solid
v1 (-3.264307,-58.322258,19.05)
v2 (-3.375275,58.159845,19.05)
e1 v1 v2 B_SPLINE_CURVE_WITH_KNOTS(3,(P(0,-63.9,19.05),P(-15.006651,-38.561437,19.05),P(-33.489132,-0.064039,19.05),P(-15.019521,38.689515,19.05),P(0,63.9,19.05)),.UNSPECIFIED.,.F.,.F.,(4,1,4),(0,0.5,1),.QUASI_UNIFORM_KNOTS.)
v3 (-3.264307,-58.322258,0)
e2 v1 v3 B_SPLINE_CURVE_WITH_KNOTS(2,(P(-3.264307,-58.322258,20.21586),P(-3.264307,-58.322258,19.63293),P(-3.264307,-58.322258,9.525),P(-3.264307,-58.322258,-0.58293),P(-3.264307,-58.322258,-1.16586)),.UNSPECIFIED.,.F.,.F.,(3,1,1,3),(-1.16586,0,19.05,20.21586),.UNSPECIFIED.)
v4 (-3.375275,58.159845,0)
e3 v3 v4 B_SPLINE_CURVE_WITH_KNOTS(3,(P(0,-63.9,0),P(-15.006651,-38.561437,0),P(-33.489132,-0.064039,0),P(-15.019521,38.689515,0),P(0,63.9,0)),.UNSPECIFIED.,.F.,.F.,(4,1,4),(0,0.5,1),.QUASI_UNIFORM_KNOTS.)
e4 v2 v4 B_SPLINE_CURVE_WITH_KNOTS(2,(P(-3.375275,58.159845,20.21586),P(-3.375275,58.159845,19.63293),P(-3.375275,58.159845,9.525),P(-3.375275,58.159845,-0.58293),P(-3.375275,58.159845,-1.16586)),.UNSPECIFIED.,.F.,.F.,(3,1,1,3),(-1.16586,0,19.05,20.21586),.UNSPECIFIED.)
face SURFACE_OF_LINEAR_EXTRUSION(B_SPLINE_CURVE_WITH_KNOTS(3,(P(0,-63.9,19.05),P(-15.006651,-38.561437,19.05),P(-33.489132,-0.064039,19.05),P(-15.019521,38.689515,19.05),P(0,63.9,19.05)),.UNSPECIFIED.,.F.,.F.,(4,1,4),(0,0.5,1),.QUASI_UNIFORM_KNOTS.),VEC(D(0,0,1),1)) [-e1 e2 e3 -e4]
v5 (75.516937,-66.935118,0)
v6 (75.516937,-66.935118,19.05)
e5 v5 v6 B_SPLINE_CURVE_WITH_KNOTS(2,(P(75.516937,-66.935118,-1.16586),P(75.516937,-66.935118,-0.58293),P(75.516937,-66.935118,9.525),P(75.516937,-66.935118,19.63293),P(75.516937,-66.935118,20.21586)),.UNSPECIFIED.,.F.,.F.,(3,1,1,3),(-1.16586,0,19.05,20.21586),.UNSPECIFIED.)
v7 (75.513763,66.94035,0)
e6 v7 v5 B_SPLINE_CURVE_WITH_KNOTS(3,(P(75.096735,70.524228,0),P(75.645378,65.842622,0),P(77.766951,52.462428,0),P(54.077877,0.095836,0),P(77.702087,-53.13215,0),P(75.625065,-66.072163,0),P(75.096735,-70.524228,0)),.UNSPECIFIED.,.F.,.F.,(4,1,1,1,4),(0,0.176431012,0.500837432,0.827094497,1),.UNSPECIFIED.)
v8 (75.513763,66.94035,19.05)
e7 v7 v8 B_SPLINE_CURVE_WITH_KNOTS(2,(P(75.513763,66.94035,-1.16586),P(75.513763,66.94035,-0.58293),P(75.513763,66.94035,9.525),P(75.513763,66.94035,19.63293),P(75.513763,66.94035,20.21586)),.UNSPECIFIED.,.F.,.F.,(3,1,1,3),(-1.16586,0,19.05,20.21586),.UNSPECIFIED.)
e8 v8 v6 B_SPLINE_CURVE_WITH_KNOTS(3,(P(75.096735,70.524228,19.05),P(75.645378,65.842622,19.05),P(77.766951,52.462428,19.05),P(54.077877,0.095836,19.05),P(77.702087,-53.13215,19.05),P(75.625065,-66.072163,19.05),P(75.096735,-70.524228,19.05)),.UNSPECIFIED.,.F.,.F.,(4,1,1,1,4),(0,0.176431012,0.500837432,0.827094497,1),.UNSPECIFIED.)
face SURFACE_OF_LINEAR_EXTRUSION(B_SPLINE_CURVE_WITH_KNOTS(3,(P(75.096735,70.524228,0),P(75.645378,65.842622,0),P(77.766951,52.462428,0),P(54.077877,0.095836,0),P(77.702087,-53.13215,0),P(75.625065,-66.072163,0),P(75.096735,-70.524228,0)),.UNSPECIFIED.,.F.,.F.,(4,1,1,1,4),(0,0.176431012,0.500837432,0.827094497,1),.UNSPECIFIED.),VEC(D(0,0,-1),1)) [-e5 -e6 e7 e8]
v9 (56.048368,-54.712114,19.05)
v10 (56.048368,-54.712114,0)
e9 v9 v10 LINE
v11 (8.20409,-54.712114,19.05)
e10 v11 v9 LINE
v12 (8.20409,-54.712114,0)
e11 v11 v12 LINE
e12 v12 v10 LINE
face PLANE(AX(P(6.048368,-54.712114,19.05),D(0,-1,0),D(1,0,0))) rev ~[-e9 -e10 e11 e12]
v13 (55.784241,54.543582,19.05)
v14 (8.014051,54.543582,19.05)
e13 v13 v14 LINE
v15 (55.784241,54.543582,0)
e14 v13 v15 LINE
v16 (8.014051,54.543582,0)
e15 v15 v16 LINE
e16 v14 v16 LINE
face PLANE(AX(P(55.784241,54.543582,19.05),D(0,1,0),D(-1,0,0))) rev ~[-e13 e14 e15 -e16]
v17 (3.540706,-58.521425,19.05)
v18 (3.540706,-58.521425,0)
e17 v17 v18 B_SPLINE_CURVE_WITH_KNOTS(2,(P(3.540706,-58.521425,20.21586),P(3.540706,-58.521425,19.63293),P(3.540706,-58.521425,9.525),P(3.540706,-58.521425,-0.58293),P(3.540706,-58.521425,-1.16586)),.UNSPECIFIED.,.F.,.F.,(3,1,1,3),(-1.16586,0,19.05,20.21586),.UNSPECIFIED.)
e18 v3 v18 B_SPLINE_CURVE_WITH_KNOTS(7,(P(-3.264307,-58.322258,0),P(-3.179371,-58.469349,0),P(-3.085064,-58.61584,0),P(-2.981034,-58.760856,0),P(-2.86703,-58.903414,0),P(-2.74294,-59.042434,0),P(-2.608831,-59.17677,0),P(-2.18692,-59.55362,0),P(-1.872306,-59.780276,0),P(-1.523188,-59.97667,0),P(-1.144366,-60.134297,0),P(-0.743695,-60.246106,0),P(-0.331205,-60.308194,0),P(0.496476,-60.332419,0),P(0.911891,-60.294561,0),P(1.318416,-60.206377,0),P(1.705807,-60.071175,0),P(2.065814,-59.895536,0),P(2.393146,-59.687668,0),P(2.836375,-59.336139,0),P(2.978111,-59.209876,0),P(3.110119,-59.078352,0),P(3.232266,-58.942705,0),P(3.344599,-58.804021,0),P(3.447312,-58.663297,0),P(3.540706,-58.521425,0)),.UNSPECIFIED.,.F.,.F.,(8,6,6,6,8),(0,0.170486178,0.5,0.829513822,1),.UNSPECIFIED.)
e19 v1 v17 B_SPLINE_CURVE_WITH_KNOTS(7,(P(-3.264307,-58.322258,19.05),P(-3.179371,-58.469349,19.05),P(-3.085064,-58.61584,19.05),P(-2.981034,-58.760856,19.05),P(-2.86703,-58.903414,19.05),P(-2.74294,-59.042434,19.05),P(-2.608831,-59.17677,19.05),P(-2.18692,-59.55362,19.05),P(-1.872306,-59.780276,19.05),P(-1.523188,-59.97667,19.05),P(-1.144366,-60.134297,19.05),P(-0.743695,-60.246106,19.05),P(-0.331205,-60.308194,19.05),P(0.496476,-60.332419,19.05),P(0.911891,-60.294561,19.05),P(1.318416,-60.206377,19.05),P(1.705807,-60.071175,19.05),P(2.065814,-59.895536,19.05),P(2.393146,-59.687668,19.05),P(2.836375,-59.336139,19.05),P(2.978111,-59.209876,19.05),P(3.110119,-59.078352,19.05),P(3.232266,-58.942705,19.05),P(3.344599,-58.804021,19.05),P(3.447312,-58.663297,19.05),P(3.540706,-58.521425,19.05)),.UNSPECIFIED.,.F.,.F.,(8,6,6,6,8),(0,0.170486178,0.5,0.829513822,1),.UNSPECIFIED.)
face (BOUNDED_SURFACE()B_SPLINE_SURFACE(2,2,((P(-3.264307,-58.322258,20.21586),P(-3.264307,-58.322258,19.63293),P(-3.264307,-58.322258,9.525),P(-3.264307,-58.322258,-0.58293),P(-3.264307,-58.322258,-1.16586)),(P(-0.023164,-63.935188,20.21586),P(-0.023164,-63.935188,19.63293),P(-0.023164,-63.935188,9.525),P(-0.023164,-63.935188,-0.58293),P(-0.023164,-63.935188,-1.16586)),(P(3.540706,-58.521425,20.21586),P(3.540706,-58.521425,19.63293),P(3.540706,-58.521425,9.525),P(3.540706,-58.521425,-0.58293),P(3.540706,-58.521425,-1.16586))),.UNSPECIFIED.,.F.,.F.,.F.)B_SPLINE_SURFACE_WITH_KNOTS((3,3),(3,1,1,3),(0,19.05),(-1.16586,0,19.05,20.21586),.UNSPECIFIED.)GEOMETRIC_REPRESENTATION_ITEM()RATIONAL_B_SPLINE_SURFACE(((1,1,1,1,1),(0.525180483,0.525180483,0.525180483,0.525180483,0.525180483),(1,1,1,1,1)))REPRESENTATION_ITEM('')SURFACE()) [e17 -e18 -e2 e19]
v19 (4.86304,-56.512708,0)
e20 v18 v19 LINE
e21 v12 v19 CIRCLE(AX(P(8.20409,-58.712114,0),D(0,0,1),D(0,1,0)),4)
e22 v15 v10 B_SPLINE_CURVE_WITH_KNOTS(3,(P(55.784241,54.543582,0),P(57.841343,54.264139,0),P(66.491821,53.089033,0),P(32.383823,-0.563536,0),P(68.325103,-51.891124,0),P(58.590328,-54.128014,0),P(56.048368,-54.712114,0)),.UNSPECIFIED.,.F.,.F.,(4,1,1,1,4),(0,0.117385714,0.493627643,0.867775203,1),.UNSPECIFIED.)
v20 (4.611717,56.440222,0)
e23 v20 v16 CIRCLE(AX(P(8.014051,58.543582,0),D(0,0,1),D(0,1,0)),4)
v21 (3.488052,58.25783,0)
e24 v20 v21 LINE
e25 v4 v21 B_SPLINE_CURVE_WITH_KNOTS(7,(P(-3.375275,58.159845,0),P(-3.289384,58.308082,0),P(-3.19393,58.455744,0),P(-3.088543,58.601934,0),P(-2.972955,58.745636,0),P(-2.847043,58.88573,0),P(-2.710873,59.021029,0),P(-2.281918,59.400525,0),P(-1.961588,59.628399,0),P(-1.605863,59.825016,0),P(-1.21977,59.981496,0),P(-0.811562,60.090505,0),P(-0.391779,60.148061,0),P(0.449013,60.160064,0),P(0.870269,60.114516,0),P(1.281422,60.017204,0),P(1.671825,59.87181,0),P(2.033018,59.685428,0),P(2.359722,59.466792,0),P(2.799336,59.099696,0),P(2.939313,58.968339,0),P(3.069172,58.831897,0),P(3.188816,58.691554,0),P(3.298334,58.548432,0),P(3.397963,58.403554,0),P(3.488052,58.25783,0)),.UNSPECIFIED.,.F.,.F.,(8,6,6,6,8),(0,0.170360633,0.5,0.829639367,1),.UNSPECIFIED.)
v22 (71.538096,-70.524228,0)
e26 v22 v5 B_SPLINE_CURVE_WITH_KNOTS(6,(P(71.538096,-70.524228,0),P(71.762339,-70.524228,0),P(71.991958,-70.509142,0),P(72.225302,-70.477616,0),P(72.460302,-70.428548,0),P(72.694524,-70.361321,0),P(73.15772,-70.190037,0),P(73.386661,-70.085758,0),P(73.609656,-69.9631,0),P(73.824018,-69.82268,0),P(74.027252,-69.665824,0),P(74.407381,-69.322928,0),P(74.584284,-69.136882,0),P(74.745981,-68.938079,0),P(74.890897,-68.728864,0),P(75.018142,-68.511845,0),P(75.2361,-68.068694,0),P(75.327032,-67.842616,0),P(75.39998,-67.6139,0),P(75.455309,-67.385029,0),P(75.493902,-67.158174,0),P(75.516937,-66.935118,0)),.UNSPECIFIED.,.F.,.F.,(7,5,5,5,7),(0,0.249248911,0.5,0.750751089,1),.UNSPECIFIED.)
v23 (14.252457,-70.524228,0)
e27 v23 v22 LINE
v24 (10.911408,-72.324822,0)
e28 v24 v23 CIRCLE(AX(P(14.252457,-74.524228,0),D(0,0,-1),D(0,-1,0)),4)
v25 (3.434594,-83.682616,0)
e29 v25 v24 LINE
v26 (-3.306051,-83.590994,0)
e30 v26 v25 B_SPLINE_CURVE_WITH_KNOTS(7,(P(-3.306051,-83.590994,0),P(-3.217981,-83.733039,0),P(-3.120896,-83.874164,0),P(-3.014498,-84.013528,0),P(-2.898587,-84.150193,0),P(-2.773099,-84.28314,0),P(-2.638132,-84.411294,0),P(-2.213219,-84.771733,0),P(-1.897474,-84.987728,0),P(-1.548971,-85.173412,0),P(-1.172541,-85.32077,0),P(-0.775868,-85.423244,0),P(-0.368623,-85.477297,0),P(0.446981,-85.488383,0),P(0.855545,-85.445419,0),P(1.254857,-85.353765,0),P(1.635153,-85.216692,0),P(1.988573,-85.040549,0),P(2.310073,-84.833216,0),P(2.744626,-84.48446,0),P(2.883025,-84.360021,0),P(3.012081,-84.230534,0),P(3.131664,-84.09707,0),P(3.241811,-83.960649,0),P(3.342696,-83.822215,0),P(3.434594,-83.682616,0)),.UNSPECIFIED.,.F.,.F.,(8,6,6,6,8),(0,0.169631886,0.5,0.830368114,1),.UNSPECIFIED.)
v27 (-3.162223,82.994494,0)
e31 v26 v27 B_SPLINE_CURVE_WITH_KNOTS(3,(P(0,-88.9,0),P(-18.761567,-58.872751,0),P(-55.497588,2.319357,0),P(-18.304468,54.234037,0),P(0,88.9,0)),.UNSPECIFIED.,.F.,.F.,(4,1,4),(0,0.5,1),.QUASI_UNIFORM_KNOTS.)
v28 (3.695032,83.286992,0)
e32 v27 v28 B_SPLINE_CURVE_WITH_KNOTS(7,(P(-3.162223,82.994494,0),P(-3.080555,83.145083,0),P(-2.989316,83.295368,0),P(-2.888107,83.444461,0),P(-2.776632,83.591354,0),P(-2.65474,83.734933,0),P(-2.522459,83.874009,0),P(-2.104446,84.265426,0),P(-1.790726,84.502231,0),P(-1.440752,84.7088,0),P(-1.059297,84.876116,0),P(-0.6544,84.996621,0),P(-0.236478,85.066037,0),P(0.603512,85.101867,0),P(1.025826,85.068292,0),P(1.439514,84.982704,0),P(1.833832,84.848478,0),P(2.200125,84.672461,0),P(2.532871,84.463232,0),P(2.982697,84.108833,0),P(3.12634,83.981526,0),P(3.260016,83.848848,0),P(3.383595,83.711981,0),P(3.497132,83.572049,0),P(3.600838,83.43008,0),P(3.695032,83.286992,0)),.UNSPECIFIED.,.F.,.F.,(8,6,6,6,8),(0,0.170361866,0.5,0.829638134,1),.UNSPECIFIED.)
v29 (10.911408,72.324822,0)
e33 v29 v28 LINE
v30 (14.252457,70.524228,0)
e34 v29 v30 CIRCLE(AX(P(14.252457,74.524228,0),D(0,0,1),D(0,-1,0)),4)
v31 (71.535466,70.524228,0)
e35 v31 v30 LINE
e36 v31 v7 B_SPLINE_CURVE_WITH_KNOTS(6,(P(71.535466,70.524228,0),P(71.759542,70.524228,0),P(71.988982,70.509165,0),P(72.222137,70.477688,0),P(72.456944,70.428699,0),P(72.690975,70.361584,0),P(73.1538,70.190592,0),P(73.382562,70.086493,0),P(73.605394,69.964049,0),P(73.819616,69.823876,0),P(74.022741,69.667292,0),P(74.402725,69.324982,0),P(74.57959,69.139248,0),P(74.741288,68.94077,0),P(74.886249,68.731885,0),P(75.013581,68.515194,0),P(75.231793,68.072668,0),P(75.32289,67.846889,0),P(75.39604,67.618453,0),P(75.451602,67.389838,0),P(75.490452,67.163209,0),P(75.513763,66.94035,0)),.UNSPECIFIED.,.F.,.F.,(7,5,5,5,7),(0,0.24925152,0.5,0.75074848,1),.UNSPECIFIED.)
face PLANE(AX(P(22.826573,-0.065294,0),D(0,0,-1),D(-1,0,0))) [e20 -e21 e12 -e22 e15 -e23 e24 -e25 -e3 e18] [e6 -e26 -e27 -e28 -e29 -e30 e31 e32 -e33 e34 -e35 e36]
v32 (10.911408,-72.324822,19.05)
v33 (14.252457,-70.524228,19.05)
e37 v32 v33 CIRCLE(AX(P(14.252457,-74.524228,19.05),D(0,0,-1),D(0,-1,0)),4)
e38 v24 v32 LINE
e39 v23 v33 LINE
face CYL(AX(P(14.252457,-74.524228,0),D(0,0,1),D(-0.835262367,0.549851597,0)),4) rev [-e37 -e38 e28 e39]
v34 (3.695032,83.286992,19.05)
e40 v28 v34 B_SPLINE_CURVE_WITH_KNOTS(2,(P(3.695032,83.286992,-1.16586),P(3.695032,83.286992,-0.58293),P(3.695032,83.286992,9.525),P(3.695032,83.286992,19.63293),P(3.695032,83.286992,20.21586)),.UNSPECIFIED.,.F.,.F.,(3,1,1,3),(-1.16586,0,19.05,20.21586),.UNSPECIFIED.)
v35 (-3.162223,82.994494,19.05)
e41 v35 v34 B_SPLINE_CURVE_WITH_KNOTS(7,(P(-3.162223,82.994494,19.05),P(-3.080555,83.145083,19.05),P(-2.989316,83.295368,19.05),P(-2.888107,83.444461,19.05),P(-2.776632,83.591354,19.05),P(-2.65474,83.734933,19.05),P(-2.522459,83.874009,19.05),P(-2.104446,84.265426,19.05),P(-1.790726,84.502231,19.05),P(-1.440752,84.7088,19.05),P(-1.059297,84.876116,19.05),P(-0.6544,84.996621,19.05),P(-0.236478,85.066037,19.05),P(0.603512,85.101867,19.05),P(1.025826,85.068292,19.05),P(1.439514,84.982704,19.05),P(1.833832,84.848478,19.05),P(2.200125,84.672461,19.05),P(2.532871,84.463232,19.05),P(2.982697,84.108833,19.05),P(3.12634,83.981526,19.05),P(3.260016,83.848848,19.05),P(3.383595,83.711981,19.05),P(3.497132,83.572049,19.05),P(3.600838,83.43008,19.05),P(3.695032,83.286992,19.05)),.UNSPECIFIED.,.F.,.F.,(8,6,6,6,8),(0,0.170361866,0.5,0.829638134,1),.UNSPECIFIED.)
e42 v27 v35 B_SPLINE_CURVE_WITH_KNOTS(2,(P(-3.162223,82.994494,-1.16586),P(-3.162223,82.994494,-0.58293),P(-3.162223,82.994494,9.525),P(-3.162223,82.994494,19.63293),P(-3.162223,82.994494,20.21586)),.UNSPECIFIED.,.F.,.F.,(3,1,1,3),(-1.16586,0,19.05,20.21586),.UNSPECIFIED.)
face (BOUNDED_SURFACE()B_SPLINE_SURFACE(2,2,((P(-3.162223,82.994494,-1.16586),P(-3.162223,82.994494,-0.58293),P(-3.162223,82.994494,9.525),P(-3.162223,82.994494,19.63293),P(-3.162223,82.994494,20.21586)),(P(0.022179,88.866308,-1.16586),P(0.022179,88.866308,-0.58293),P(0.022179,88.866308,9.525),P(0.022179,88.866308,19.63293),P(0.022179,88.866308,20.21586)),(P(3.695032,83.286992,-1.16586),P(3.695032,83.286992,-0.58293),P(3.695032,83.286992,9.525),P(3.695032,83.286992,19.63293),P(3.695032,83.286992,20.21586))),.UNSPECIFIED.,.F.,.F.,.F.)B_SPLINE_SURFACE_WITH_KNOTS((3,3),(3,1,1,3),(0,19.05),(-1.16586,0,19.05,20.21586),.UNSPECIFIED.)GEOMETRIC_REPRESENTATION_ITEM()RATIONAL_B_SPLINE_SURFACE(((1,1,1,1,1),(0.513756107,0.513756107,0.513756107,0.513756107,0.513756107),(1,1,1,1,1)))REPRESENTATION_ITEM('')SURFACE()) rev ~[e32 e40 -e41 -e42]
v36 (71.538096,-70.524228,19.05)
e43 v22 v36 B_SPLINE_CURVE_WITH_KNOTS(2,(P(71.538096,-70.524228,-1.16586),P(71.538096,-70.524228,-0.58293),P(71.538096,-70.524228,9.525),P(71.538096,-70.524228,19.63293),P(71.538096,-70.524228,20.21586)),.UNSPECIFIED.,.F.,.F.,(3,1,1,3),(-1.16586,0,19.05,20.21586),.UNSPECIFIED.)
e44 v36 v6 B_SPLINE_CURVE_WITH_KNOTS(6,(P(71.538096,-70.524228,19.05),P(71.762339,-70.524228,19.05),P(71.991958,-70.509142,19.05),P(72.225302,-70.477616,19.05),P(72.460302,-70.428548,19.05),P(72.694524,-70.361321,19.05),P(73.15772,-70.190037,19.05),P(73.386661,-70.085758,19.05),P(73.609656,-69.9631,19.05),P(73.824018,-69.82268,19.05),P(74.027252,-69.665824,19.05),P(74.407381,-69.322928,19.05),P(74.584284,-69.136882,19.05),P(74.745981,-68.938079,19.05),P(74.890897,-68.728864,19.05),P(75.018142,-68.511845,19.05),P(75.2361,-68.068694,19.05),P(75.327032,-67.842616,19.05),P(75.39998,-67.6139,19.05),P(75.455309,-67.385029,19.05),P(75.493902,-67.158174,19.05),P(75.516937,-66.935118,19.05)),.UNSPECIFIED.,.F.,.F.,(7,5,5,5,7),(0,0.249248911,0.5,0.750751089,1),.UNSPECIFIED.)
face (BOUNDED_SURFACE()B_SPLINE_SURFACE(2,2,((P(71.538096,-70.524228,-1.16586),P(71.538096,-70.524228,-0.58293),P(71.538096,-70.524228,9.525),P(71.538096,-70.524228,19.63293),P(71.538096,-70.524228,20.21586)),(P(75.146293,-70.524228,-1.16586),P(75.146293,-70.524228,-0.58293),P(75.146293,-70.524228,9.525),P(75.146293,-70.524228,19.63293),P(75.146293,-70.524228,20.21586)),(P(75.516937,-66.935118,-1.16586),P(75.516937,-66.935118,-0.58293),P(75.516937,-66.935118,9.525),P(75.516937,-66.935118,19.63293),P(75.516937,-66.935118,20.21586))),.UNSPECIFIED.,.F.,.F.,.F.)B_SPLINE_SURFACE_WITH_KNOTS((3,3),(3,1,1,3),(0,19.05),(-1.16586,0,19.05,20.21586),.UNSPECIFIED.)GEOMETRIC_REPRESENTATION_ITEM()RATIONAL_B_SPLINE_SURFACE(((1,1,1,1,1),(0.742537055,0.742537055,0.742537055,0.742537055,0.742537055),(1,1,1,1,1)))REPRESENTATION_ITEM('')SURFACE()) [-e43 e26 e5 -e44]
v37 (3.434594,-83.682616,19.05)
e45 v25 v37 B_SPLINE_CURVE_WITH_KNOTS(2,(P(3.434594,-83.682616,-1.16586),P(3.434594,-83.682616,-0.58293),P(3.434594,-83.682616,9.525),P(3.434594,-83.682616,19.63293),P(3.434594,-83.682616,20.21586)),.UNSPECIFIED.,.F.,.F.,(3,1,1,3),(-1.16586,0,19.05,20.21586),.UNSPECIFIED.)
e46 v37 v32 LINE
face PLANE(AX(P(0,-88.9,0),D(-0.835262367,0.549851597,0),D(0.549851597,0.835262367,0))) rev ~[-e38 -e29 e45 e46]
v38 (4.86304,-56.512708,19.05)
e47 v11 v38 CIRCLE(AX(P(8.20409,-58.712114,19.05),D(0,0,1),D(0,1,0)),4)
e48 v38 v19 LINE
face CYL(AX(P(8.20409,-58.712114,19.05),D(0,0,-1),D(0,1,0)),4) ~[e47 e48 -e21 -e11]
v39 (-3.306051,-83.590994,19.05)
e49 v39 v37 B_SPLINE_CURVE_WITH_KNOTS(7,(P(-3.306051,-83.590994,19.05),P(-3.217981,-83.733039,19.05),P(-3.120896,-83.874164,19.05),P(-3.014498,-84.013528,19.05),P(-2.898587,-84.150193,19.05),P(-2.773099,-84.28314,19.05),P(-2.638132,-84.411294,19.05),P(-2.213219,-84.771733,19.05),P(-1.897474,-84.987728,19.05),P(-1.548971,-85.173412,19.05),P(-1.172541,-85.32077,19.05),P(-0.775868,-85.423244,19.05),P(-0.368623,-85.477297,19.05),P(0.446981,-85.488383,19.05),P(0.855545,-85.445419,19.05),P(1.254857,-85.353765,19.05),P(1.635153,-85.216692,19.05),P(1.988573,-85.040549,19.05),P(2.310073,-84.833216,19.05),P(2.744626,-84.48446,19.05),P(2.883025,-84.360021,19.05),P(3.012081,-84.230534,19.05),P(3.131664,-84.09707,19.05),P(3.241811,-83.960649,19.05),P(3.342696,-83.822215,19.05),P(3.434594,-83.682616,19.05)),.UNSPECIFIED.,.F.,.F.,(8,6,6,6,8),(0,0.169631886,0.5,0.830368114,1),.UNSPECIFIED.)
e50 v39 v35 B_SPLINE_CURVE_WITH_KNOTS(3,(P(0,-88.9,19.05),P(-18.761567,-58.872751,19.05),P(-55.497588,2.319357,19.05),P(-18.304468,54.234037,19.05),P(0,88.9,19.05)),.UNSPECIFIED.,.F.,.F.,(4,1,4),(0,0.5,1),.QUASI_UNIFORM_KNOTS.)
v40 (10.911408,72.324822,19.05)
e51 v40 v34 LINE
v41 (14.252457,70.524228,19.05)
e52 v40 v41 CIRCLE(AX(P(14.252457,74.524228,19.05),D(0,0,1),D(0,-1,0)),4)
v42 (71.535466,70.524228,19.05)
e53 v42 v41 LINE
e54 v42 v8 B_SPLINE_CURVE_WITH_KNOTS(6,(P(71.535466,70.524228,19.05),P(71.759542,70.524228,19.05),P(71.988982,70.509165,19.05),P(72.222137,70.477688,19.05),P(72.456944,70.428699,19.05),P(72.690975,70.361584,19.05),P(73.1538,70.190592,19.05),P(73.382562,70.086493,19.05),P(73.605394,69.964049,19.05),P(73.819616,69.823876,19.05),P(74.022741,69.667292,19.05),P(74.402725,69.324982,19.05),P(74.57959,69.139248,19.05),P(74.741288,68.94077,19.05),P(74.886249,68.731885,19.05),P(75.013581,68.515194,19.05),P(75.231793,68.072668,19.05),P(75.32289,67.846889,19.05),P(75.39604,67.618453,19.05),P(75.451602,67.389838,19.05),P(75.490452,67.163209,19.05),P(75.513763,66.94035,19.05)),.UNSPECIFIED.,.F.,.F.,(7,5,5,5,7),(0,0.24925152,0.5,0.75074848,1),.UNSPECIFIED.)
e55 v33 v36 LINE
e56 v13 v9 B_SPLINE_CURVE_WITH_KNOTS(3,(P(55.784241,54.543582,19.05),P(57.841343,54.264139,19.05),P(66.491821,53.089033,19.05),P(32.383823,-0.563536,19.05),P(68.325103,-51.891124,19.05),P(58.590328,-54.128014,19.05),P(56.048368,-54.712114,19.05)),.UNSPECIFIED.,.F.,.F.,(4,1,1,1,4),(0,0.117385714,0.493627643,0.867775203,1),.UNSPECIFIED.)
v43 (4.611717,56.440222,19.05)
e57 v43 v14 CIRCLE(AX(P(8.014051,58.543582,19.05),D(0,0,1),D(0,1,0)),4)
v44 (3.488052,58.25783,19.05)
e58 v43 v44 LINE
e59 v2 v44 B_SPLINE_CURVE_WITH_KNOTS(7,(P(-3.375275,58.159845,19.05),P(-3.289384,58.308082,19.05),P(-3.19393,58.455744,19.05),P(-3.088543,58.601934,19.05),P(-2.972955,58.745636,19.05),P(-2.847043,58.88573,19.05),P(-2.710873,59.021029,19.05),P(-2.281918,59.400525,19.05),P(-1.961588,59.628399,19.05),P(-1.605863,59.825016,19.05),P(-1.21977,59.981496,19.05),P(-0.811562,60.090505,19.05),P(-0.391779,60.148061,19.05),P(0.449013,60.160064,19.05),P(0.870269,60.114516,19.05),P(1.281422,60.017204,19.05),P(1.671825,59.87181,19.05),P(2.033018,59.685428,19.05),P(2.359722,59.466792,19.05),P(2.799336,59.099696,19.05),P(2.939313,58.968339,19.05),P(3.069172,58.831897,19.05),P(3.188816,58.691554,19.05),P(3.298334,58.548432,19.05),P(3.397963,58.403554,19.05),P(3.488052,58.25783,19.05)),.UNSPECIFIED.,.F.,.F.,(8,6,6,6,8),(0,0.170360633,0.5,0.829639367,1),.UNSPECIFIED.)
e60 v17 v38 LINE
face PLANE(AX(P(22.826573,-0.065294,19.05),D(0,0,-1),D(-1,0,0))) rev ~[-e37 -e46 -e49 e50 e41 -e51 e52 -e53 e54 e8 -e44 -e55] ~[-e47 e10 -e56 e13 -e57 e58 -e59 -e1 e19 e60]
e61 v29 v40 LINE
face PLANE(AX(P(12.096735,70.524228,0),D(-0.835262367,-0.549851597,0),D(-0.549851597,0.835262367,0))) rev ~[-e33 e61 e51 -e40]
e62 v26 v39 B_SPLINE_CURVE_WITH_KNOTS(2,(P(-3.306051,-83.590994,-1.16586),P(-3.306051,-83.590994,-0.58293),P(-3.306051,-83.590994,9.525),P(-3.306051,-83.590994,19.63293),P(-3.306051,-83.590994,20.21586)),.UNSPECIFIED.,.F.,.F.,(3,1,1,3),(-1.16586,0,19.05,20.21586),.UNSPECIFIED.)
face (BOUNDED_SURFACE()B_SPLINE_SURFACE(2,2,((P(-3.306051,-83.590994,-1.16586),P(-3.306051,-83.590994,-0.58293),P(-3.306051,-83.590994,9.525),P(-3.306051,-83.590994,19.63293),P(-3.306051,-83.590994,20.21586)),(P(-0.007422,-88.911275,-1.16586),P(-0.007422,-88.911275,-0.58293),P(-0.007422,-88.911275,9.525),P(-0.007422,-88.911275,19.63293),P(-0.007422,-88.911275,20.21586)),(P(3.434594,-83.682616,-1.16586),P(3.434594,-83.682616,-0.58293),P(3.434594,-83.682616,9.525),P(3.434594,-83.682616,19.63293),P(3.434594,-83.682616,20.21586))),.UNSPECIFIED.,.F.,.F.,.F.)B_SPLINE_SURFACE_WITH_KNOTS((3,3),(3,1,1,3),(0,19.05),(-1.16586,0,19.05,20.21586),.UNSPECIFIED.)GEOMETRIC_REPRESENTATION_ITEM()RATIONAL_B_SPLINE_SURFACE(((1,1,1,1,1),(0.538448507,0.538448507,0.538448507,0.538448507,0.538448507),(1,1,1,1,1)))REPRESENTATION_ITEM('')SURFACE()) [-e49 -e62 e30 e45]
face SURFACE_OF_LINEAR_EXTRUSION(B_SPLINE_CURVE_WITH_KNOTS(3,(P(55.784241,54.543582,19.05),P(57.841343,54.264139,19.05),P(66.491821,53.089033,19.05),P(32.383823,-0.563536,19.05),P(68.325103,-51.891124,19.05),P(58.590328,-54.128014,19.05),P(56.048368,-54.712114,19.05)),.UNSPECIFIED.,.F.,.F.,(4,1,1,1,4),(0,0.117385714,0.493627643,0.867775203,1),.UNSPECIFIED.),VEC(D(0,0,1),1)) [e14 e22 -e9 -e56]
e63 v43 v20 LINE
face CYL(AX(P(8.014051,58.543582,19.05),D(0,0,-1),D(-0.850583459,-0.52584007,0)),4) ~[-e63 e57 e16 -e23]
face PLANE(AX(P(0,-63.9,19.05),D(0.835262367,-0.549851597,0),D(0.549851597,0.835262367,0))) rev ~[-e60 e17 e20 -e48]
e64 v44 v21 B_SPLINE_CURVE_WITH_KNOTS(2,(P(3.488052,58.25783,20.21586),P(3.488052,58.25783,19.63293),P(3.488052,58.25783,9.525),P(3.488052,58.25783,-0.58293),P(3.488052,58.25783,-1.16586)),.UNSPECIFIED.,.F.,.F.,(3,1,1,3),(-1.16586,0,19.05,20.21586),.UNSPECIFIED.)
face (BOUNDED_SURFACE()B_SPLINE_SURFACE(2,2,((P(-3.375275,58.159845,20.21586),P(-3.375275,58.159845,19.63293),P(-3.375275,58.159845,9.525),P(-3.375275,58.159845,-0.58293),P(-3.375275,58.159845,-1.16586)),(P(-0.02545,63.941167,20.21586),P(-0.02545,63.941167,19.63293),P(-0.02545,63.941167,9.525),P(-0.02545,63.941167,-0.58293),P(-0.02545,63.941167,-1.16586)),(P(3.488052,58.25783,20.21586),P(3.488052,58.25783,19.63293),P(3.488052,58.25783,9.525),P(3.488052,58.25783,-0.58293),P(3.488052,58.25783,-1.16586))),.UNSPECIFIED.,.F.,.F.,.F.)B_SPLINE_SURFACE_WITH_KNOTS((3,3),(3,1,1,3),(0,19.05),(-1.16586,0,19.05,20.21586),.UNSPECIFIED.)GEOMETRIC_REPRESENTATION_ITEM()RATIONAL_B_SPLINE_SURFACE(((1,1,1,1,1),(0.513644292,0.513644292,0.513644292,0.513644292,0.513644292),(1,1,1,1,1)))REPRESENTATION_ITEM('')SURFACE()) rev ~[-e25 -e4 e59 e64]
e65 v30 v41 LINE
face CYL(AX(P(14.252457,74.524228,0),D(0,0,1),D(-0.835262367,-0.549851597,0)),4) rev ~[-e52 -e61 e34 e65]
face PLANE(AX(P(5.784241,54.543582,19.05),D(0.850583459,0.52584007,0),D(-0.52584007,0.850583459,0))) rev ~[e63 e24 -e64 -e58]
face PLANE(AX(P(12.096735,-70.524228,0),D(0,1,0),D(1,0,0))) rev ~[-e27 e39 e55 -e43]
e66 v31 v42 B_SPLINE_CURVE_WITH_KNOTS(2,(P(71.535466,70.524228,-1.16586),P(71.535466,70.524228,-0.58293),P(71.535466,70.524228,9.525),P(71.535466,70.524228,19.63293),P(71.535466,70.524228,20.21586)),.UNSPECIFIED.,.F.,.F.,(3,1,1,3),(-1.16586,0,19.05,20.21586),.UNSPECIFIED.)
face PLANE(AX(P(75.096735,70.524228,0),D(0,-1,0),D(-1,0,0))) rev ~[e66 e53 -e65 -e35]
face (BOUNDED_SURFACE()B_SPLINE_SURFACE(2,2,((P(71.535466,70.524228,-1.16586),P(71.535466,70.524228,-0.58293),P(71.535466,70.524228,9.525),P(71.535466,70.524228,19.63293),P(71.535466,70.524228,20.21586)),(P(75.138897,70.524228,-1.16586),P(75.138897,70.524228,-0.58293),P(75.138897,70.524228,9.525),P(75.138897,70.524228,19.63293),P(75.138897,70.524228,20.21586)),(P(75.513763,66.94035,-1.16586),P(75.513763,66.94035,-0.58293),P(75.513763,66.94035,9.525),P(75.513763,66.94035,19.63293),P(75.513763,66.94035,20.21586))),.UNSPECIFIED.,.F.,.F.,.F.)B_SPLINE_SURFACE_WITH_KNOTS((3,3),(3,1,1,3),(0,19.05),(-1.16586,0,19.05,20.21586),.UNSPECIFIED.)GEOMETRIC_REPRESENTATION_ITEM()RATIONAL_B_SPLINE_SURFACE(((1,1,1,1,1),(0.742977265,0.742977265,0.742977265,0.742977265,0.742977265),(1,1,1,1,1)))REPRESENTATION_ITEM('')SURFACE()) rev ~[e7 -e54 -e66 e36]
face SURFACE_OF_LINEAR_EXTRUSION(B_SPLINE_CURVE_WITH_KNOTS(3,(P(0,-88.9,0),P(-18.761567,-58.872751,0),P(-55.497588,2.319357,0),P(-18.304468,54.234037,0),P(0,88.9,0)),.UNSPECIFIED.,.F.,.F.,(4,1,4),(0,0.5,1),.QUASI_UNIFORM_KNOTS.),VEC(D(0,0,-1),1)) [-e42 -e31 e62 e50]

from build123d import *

# Parameters (mm, degrees)
F1_DEPTH = 19.05
F3_DEPTH = 19.05
F4_R     = 4


with BuildPart() as f1:
    # F0 (on Top) → F1 (new body)
    with BuildSketch(Plane.XY):
        with BuildLine():
            add(Edge.make_bspline(
                [(0, -88.9), (-18.7615667395, -58.872751179), (-55.497587887, 2.319356984), (-18.3044684192, 54.234037211), (0, 88.9)],
                knots=[0, 0, 0, 0, 0.5, 1, 1, 1, 1], degree=3))
            Line((0, -88.9), (12.096735135, -70.5242279326))
            Line((12.096735135, -70.5242279326), (75.096735135, -70.5242279326))
            add(Edge.make_bspline(
                [(75.096735135, 70.5242279326), (75.6453777141, 65.842621729), (77.7669512859, 52.4624280909), (54.0778767649, 0.0958361046), (77.7020868907, -53.1321501243), (75.6250650534, -66.0721629988), (75.096735135, -70.5242279326)],
                knots=[0, 0, 0, 0, 0.1764310118, 0.500837432, 0.8270944973, 1, 1, 1, 1], degree=3))
            Line((75.096735135, 70.5242279326), (12.096735135, 70.5242279326))
            Line((12.096735135, 70.5242279326), (0, 88.9))
        make_face()
    extrude(amount=F1_DEPTH)

    # F2 (on face) → F3 (cut)
    with BuildSketch(Plane.XY.offset(19.05)):
        with BuildLine():
            add(Edge.make_bspline(
                [(0, -63.9), (-15.0066513258, -38.561437128), (-33.4891316908, -0.0640391576), (-15.0195212491, 38.6895154432), (0, 63.9)],
                knots=[0, 0, 0, 0, 0.5, 1, 1, 1, 1], degree=3))
            Line((0, -63.9), (6.0483675675, -54.7121139663))
            Line((6.0483675675, -54.7121139663), (56.0483675675, -54.7121139663))
            add(Edge.make_bspline(
                [(55.7842407716, 54.5435819516), (57.8413429651, 54.264139175), (66.4918207205, 53.0890329839), (32.3838227626, -0.5635362626), (68.3251031662, -51.8911242436), (58.5903282755, -54.1280136592), (56.0483675675, -54.7121139663)],
                knots=[0, 0, 0, 0, 0.1173857138, 0.4936276425, 0.8677752027, 1, 1, 1, 1], degree=3))
            Line((55.7842407716, 54.5435819516), (5.7842407716, 54.5435819516))
            Line((5.7842407716, 54.5435819516), (0, 63.9))
        make_face()
    extrude(amount=-F3_DEPTH, mode=Mode.SUBTRACT)

    # F4
    f4_edges = [f1.edges().sort_by_distance(p)[0] for p in [
        (0, -88.9, 9.525),
        (75.096735, -70.524228, 9.525),
        (5.784241, 54.543582, 9.525),
        (75.096735, 70.524228, 9.525),
        (0, 88.9, 9.525),
        (12.096735, 70.524228, 9.525),
        (12.096735, -70.524228, 9.525),
        (0, 63.9, 9.525),
        (0, -63.9, 9.525),
        (6.048368, -54.712114, 9.525),
    ]]
    fillet(f4_edges, radius=F4_R)


solid = f1.part
